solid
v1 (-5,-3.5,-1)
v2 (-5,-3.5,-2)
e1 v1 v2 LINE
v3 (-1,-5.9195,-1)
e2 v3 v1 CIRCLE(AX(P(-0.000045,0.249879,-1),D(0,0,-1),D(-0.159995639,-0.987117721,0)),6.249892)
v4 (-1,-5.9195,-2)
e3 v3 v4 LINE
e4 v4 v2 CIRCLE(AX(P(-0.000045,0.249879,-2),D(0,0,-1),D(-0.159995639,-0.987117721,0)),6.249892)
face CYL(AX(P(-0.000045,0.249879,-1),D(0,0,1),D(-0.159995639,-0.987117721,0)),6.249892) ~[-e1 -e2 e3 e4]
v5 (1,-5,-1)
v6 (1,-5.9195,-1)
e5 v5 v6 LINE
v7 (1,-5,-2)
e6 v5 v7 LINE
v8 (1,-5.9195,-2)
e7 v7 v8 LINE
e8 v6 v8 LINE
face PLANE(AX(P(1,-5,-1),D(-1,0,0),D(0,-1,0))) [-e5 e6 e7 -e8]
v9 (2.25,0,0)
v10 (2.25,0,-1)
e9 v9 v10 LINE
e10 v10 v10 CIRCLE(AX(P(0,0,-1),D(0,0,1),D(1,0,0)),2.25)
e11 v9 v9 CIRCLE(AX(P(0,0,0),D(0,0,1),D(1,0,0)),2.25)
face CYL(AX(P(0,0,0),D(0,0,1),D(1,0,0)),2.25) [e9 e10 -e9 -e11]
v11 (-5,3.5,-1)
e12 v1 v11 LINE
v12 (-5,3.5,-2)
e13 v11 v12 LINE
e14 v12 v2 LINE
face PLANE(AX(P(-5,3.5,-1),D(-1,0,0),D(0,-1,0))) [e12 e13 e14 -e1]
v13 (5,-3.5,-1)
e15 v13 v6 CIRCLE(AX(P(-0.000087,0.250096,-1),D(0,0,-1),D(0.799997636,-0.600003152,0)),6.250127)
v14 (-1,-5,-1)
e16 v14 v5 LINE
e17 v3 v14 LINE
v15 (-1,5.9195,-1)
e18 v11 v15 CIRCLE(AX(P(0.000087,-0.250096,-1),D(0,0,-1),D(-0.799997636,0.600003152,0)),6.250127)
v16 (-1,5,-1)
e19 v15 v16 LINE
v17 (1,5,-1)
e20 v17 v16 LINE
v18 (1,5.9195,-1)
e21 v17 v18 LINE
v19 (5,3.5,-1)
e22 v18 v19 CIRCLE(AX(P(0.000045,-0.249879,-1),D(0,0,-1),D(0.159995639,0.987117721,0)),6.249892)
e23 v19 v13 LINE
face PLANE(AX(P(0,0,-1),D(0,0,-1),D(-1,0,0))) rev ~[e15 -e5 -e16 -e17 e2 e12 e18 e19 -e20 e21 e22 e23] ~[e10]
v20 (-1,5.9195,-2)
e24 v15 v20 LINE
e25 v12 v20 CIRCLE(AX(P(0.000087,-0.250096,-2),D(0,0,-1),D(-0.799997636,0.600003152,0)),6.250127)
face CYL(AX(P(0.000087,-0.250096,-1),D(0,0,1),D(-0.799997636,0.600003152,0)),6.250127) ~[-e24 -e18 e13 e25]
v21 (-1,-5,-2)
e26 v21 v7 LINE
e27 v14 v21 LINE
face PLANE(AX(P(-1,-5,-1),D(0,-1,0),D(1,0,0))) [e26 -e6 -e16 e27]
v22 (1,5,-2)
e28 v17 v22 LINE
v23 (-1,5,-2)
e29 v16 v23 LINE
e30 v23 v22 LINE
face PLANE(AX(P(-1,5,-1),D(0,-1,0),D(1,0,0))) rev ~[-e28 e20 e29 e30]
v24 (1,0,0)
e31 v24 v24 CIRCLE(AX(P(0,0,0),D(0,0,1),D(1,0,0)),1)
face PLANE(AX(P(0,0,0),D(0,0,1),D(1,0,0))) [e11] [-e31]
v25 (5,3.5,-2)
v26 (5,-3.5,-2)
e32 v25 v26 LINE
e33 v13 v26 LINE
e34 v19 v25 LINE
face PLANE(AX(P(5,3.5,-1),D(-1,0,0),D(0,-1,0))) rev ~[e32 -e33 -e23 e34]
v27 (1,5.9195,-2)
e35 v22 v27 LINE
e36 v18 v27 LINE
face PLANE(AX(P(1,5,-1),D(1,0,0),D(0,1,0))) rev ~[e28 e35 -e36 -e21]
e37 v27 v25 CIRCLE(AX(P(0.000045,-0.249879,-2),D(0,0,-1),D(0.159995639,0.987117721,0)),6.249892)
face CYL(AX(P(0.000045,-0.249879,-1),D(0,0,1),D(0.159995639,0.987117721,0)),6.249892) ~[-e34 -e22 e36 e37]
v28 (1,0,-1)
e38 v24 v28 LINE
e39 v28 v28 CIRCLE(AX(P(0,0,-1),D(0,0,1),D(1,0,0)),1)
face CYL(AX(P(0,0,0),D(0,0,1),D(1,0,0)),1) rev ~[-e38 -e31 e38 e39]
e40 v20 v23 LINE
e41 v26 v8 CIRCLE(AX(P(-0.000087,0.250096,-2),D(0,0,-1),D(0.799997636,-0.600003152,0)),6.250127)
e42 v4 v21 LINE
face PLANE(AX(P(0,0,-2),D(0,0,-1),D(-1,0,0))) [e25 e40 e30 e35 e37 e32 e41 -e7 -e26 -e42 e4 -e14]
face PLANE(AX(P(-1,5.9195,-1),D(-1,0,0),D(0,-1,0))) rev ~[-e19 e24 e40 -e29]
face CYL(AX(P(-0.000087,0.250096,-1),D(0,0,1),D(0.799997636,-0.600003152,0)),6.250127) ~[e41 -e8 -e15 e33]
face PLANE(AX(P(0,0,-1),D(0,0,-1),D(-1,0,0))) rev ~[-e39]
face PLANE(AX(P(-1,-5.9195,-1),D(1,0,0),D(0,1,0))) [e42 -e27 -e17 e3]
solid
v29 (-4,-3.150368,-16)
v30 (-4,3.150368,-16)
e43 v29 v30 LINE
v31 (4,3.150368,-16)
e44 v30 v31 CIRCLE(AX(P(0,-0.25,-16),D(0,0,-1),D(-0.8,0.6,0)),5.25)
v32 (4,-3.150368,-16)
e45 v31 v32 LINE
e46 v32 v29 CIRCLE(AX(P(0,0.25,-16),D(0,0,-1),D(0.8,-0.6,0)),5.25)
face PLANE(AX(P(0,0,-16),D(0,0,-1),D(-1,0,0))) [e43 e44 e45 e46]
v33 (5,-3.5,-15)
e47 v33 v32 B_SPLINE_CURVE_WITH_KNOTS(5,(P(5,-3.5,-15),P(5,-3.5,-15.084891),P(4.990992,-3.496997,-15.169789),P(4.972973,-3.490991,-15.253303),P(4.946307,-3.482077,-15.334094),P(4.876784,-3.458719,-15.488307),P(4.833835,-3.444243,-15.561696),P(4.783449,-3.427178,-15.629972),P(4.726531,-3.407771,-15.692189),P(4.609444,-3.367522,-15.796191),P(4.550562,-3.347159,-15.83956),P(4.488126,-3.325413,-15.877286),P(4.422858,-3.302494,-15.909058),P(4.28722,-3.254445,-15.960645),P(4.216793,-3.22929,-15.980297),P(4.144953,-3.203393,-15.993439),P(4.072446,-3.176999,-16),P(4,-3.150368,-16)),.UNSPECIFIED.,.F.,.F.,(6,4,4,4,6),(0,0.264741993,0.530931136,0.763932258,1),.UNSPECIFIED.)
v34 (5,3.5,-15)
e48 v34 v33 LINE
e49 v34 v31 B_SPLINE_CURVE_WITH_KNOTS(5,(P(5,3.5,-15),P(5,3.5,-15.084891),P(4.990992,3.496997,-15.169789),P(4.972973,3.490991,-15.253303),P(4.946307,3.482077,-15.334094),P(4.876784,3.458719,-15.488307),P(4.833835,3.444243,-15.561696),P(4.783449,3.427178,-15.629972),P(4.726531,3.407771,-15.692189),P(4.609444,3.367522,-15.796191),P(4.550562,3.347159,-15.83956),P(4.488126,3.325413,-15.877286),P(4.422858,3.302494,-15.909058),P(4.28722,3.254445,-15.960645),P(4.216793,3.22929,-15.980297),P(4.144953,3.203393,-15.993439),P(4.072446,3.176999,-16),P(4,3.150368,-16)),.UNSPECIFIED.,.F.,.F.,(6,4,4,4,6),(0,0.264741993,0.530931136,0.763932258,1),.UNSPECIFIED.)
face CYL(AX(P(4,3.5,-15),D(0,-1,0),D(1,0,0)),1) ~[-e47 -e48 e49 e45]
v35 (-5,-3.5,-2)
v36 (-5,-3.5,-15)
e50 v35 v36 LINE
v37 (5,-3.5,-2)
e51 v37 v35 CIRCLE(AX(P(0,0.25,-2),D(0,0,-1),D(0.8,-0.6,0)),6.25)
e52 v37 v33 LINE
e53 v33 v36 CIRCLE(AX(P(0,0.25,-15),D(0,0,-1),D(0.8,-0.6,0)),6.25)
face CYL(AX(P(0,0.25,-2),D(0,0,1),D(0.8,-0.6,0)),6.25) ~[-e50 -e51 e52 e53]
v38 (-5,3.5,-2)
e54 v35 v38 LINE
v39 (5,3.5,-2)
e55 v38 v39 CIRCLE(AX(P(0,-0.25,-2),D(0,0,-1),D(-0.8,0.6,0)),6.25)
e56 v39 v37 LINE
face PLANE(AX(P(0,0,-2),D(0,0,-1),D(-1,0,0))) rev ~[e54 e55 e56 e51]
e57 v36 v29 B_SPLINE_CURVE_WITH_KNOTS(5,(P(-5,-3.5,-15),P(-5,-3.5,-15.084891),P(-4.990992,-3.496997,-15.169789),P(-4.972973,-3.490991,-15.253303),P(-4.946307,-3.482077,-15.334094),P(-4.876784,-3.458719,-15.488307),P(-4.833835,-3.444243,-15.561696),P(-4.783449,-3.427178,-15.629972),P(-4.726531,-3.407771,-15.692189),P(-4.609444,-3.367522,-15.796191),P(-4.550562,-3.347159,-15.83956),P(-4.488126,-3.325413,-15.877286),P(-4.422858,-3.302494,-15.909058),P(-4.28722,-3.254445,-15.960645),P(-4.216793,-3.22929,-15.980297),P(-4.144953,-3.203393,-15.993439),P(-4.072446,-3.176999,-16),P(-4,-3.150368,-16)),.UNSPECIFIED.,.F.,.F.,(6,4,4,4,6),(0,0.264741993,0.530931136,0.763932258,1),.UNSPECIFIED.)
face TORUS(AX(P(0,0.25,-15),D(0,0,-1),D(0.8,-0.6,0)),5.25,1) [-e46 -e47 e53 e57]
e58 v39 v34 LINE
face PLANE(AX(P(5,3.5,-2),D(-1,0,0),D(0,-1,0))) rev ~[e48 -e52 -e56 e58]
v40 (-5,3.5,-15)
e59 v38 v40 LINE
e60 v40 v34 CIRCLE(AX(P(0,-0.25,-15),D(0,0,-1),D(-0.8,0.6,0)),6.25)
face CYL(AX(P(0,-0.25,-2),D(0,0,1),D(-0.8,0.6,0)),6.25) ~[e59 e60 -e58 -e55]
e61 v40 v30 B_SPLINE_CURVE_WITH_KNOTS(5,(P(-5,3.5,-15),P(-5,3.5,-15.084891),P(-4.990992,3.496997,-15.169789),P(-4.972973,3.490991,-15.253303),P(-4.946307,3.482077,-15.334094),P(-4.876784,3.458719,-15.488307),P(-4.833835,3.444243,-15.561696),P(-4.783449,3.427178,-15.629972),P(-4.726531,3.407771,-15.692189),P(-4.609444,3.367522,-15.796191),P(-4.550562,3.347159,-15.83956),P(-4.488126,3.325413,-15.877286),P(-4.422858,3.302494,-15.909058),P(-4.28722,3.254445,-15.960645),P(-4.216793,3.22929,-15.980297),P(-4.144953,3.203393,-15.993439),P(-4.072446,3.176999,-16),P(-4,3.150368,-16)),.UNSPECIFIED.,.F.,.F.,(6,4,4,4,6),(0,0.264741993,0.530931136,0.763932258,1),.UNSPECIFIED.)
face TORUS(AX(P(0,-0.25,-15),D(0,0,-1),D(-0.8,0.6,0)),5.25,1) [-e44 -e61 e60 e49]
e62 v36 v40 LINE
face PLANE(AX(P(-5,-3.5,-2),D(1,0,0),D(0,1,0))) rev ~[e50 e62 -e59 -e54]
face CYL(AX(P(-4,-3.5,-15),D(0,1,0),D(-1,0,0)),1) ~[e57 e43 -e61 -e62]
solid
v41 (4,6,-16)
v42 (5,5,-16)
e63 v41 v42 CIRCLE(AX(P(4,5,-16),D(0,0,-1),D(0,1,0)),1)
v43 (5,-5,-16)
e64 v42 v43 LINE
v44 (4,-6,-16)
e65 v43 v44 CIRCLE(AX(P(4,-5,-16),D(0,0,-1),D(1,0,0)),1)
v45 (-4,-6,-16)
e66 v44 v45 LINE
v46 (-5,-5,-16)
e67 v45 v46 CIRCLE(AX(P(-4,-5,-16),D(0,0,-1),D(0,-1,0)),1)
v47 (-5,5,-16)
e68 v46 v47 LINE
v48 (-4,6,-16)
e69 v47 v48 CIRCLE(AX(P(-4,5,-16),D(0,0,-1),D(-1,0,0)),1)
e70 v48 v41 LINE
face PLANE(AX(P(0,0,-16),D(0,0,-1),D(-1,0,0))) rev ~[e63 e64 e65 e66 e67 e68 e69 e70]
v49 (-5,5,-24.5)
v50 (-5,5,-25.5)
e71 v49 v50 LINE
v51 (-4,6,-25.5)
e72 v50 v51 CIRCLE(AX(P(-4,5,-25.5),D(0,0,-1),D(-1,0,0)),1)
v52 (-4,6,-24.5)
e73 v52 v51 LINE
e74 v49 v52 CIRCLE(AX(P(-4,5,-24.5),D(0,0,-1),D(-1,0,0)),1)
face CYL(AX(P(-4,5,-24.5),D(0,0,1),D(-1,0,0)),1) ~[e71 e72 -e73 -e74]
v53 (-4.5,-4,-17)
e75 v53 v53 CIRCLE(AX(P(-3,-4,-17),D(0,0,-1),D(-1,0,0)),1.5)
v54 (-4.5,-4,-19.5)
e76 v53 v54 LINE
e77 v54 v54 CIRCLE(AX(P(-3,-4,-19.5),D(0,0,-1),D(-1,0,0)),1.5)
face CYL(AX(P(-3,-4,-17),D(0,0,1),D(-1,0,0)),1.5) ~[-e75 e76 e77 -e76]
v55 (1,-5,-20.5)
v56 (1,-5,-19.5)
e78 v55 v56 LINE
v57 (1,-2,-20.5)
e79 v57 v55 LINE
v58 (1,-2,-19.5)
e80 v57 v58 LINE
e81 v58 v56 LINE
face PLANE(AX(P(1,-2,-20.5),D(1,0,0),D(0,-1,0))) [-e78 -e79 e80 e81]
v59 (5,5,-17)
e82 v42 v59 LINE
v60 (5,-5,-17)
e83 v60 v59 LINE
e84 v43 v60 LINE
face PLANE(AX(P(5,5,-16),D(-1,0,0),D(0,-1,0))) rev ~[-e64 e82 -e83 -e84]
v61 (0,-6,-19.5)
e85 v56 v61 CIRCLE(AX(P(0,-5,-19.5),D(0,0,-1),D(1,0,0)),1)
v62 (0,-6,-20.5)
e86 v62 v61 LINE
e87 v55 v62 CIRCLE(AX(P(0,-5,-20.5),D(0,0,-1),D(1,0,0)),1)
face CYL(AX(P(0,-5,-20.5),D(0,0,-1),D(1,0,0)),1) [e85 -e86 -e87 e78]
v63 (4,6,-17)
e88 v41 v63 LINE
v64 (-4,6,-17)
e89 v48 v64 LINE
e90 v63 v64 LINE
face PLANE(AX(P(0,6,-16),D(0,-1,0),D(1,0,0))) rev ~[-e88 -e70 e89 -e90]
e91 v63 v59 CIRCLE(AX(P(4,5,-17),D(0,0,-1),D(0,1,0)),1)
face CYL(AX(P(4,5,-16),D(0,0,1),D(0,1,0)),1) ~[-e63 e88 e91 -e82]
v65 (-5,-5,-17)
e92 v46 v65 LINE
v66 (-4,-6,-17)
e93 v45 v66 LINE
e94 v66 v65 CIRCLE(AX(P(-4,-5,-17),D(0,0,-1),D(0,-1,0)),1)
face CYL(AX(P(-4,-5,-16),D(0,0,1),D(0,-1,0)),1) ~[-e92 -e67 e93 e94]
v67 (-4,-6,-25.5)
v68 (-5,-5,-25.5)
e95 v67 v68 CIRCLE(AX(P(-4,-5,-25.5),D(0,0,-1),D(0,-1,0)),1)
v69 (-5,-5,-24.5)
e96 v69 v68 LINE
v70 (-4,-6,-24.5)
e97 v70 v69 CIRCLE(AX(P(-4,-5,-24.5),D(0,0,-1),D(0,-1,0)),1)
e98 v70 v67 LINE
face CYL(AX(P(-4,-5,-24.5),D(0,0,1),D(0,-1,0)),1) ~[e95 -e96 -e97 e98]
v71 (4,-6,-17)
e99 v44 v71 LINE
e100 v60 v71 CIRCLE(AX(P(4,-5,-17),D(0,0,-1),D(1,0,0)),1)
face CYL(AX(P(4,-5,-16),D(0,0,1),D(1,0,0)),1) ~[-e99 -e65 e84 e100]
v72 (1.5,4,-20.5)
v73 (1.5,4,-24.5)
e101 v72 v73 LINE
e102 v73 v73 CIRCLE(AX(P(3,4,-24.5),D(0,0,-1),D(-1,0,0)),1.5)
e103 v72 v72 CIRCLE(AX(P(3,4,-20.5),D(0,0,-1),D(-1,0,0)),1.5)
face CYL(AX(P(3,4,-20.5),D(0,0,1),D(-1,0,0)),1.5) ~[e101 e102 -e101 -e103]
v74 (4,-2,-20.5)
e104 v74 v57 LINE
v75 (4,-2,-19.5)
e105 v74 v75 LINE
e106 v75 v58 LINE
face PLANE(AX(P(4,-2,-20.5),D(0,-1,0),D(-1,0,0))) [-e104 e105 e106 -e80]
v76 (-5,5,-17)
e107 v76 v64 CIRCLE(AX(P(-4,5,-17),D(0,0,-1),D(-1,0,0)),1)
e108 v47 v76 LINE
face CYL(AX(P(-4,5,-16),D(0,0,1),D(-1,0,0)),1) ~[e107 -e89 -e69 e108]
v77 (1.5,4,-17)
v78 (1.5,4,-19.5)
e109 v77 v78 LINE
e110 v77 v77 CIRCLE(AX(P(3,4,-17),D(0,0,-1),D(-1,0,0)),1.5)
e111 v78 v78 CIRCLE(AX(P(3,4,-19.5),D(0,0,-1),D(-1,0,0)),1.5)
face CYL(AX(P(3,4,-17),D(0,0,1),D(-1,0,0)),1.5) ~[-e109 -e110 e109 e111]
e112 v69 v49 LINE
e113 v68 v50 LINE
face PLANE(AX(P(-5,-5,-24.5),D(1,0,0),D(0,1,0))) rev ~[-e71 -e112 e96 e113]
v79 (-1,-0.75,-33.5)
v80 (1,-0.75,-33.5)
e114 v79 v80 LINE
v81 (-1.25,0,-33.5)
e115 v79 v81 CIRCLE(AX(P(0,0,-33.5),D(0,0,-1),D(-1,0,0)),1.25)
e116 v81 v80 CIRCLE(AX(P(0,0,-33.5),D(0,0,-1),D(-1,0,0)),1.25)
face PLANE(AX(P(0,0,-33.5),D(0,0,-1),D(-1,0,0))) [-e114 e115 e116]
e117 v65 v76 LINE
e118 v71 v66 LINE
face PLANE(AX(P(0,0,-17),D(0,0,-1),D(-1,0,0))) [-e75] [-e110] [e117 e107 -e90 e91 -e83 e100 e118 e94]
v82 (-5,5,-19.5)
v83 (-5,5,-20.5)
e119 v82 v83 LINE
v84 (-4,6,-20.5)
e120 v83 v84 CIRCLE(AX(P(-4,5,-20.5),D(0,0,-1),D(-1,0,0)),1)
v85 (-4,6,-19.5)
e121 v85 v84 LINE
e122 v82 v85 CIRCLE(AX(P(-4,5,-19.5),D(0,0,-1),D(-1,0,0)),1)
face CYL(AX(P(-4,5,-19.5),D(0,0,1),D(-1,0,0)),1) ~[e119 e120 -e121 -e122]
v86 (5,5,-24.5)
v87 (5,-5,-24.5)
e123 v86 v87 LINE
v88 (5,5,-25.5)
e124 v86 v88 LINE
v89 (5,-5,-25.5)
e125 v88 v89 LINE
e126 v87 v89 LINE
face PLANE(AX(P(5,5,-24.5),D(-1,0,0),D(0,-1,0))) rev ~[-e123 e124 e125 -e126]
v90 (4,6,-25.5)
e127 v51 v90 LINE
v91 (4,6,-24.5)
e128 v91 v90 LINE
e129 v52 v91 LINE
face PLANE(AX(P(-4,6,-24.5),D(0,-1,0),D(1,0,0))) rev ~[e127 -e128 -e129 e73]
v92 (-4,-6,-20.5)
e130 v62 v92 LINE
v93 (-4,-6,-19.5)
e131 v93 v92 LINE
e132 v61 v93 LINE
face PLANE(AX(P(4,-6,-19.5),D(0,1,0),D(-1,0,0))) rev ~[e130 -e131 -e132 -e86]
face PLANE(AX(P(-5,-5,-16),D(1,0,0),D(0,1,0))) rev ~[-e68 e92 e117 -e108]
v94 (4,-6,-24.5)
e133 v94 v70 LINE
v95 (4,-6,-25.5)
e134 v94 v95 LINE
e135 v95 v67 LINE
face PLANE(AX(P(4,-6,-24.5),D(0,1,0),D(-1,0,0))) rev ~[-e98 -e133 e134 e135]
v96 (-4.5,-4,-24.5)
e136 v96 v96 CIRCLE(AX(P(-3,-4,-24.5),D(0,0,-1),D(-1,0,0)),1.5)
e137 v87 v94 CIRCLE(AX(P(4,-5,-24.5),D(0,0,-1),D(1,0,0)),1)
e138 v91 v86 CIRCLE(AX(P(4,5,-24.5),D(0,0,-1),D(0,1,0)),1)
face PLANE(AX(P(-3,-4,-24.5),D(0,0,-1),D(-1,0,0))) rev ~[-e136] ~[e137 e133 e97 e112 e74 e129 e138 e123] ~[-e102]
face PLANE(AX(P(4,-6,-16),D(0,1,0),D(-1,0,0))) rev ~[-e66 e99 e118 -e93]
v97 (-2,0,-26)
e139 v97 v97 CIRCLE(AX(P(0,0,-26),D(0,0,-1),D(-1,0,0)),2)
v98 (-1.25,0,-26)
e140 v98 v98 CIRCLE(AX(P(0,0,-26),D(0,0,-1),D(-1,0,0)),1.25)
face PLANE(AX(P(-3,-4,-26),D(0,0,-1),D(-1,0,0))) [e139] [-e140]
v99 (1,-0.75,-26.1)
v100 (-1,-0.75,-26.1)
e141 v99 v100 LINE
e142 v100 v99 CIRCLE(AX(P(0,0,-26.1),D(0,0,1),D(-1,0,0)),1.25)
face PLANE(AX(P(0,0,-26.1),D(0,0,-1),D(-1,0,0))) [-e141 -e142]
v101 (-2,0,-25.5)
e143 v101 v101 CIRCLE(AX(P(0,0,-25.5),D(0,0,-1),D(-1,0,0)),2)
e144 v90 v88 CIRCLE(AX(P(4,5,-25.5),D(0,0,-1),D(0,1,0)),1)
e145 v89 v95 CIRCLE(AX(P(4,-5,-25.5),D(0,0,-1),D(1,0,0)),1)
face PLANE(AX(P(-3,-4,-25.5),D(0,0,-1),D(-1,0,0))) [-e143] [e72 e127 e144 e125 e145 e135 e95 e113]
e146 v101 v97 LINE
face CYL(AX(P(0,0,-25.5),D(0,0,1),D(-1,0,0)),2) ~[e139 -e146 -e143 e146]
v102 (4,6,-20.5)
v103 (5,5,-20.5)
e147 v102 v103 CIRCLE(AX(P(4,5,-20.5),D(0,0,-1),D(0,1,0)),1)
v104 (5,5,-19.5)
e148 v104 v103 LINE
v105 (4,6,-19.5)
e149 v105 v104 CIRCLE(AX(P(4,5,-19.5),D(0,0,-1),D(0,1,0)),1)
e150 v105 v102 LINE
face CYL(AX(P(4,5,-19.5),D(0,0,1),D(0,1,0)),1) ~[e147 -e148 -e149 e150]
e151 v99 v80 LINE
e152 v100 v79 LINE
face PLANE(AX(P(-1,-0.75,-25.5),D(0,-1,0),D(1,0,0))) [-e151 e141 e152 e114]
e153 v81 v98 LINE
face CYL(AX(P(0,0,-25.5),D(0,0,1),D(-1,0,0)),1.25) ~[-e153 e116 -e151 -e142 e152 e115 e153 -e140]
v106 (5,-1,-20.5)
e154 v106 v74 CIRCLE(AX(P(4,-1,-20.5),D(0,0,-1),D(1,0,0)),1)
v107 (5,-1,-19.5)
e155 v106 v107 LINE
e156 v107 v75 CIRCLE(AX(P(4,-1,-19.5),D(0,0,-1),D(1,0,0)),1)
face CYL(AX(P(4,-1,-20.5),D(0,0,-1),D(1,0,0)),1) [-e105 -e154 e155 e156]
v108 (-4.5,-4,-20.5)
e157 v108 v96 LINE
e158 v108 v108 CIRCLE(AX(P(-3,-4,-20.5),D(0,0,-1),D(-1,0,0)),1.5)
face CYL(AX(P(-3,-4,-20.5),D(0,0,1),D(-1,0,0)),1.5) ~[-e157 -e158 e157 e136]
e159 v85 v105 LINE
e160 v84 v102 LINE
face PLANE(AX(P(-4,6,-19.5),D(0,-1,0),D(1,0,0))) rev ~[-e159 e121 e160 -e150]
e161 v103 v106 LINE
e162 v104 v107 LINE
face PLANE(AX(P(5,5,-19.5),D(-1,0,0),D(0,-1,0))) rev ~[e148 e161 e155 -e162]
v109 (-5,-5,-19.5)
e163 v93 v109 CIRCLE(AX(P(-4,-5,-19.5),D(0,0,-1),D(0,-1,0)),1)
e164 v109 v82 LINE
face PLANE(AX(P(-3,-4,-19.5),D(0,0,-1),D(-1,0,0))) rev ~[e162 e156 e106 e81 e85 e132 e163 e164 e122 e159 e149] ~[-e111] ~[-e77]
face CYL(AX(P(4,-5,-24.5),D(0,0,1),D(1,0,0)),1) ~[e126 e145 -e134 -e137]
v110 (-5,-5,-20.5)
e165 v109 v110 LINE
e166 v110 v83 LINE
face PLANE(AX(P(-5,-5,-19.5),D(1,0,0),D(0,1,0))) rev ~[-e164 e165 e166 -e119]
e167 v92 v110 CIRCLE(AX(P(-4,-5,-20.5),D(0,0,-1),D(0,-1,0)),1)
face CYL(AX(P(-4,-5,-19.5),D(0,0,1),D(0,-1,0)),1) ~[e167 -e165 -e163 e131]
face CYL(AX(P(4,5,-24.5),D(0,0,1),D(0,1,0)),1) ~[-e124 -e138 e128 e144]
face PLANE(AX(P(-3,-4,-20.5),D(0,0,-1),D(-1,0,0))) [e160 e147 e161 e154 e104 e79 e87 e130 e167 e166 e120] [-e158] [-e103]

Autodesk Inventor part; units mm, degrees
ref_plane "YZ Plane" through (0, 0, 0) normal (1, 0, 0) x (0, 1, 0)
ref_plane "XZ Plane" through (0, 0, 0) normal (0, 1, 0) x (-1, 0, 0)
ref_plane "XY Plane" through (0, 0, 0) normal (0, 0, 1) x (1, 0, 0)
sketch "草图1" plane through (0, 0, 0) normal (0, 0, 1) x (1, 0, 0)
  circle A0 centre (0, 0) radius 2.25
  circle A1 centre (0, 0) radius 1
  dimension "d0" = 4.5
  dimension "d1" = 2
extrude "拉伸1" add sketch "草图1" against normal blind 1
sketch "草图2" plane through (0, 0, -1) normal (0, 0, -1) x (-1, 0, 0)
  line L0 (5, 3.5) -> (5, -3.5)
  line L1 (-5, 3.5) -> (-5, -3.5)
  line L2 (5, -3.5) -> (-5, -3.5) construction
  line L3 (5, 3.5) -> (-5, 3.5) construction
  line L4 (0, 0) -> (0, 19.9498)
  line L5 (0, 0) -> (7.1401, 0)
  line L6 (1, 5.9195) -> (1, 5)
  line L7 (1, 5) -> (-1, 5)
  line L8 (-1, 5) -> (-1, 5.9195)
  arc A0 (5, 3.5) -> (1, 5.9195) centre (0, -0.25) ccw
  arc A1 (-1, 5.9195) -> (-5, 3.5) centre (0, -0.25) ccw
  line L9 (1, -5.9195) -> (1, -5)
  line L10 (1, -5) -> (-1, -5)
  line L11 (-1, -5) -> (-1, -5.9195)
  arc A2 (-5, -3.5) -> (-1, -5.9195) centre (0, 0.25) ccw
  arc A3 (1, -5.9195) -> (5, -3.5) centre (0, 0.25) ccw
  point P0 (0, 6)
  point P1 (0, 6)
  dimension "d4" = 10
  dimension "d7" = 7
  dimension "d8" = 6
  dimension "d9" = 1
  dimension "d10" = 2
extrude "拉伸2" add sketch "草图2" along normal blind 1
sketch "草图3" plane through (0, 0, -2) normal (0, 0, -1) x (-1, 0, 0)
  line L0 (1, 5) -> (-1, 5) construction
  line L1 (-1, 5) -> (-1, 5.9195) construction
  arc A0 (-1, 5.9195) -> (-5, 3.5) centre (0, -0.25) ccw construction
  line L2 (-5, 3.5) -> (-5, -3.5) projected
  arc A1 (-5, -3.5) -> (-1, -5.9195) centre (0, 0.25) ccw construction
  line L3 (-1, -5.9195) -> (-1, -5) construction
  line L4 (-1, -5) -> (1, -5) construction
  line L5 (1, -5) -> (1, -5.9195) construction
  arc A2 (1, -5.9195) -> (5, -3.5) centre (0, 0.25) ccw construction
  line L6 (5, -3.5) -> (5, 3.5) projected
  arc A3 (5, 3.5) -> (1, 5.9195) centre (0, -0.25) ccw construction
  line L7 (1, 5.9195) -> (1, 5) construction
  arc A4 (5, 3.5) -> (-5, 3.5) centre (0, -0.25) ccw
  line L8 (0, 0) -> (3.3982, 0)
  arc A5 (-5, -3.5) -> (5, -3.5) centre (0, 0.25) ccw
extrude "拉伸3" add sketch "草图3" along normal blind 14 separate body
fillet "圆角1" radius 1 4 edges at (0, 6, -16) (-5, 0, -16) (0, -6, -16) (5, 0, -16)
sketch "草图4" plane through (0, 0, -16) normal (0, 0, -1) x (-1, 0, 0)
  line L0 (-5, 5) -> (-5, -5)
  line L1 (-4, -6) -> (4, -6)
  line L2 (5, -5) -> (5, 5)
  line L3 (4, 6) -> (-4, 6)
  line L4 (0, 0) -> (0, 19.5528)
  line L5 (0, 0) -> (-9.7016, 0)
  arc A0 (-5, -5) -> (-4, -6) centre (-4, -5) ccw
  arc A1 (-4, 6) -> (-5, 5) centre (-4, 5) ccw
  arc A2 (5, 5) -> (4, 6) centre (4, 5) ccw
  arc A3 (4, -6) -> (5, -5) centre (4, -5) ccw
  dimension "d16" = 1
  dimension "d17" = 10
  dimension "d18" = 12
extrude "拉伸4" add sketch "草图4" along normal blind 1 separate body
sketch "草图5" plane through (0, 0, -17) normal (0, 0, -1) x (-1, 0, 0)
  circle A0 centre (3, -4) radius 1.5
  circle A1 centre (-3, 4) radius 1.5
  line L0 (5, -5) -> (5, 5) projected
  line L1 (-4, -6) -> (4, -6) projected
  line L2 (4, 6) -> (-4, 6) projected
  line L3 (-5, 5) -> (-5, -5) projected
  point P0 (0, 0)
  dimension "d21" = 3
  dimension "d22" = 2
  dimension "d23" = 2
  dimension "d24" = 2
  dimension "d25" = 2
extrude "拉伸5" add sketch "草图5" along normal blind 2.5 bodies 3
sketch "草图6" plane through (-3, -4, -19.5) normal (0, 0, -1) x (-1, 0, 0)
  circle A0 centre (-6, 8) radius 1.5 construction
  circle A1 centre (0, 0) radius 1.5 construction
  line L0 (-8, 9) -> (-8, -1) projected
  arc A2 (-8, -1) -> (-7, -2) centre (-7, -1) ccw projected
  line L1 (-7, -2) -> (1, -2) projected
  arc A3 (1, -2) -> (2, -1) centre (1, -1) ccw projected
  line L2 (2, -1) -> (2, 9) projected
  arc A4 (2, 9) -> (1, 10) centre (1, 9) ccw projected
  line L3 (1, 10) -> (-7, 10) projected
  arc A5 (-7, 10) -> (-8, 9) centre (-7, 9) ccw projected
  point P0 (-3, 4)
extrude "拉伸6" add sketch "草图6" along normal blind 1 bodies 3
sketch "草图7" plane through (-3, -4, -20.5) normal (0, 0, -1) x (-1, 0, 0)
  circle A0 centre (0, 0) radius 1.5 projected
  circle A1 centre (-6, 8) radius 1.5 projected
  point P0 (-3, 4)
extrude "拉伸7" add sketch "草图7" along normal blind 4 bodies 3
sketch "草图8" plane through (-3, -4, -24.5) normal (0, 0, -1) x (-1, 0, 0)
  circle A0 centre (-6, 8) radius 1.5 construction
  circle A1 centre (0, 0) radius 1.5 construction
  arc A2 (-8, -1) -> (-7, -2) centre (-7, -1) ccw projected
  line L0 (-7, -2) -> (1, -2) projected
  arc A3 (1, -2) -> (2, -1) centre (1, -1) ccw projected
  line L1 (2, -1) -> (2, 9) projected
  arc A4 (2, 9) -> (1, 10) centre (1, 9) ccw projected
  line L2 (1, 10) -> (-7, 10) projected
  arc A5 (-7, 10) -> (-8, 9) centre (-7, 9) ccw projected
  line L3 (-8, 9) -> (-8, -1) projected
  point P0 (-3, 4)
extrude "拉伸8" add sketch "草图8" along normal blind 1 bodies 3
sketch "草图9" plane through (-3, -4, -25.5) normal (0, 0, -1) x (-1, 0, 0)
  circle A0 centre (-3, 4) radius 1 projected
  circle A1 centre (-3, 4) radius 2
  circle A2 centre (-3, 4) radius 1.25
  dimension "d34" = 4
  dimension "d35" = 2.5
extrude "拉伸9" add sketch "草图9" along normal blind 0.5 contours A1 bodies 3
sketch "草图10" plane through (0, 0, -25.5) normal (0, 0, -1) x (-1, 0, 0)
  circle A0 centre (0, 0) radius 1.25
  circle A1 centre (0, 0) radius 1.25 projected
  line L0 (1, -0.75) -> (-1, -0.75)
  point P0 (-1, -0.75)
  point P1 (1, -0.75)
  dimension "d38" = 2
  dimension "d39" = 2.5
extrude "拉伸10" add sketch "草图10" along normal blind 0.6 bodies 3
extrude "拉伸11" add sketch "草图10" along normal blind 8 contours A0 L0 picked at (0.3616, -0.1518) bodies 3
sketch "草图11" plane through (-3, -4, -20.5) normal (0, 0, -1) x (-1, 0, 0)
  line L0 (-7, 2) -> (-4, 2)
  line L1 (-4, 2) -> (-4, -1)
  line L2 (-7, -2) -> (1, -2) construction
  line L3 (-7, -2) -> (1, -2) projected
  arc A0 (-4, -1) -> (-3, -2) centre (-3, -1) ccw
  arc A1 (-8, 3) -> (-7, 2) centre (-7, 3) ccw
  arc A2 (-8, -1) -> (-7, -2) centre (-7, -1) ccw projected
  line L4 (-3, -2) -> (-7, -2)
  arc A3 (-8, 0.5) -> (2, 0.5) centre (-3, 4.25) ccw construction
  line L5 (-8, 9) -> (-8, -1) construction
  line L6 (-8, 3) -> (-8, -1)
  point P0 (-3, 4)
  point P1 (-8, 2)
  point P2 (-4, -2)
  dimension "d45" = 4
  dimension "d46" = 1
  dimension "d47" = 1
extrude "拉伸12" cut sketch "草图11" against normal blind 1.5 bodies 3
properties part number "GA12-N20微型减速直流电机3V_15RPM"
